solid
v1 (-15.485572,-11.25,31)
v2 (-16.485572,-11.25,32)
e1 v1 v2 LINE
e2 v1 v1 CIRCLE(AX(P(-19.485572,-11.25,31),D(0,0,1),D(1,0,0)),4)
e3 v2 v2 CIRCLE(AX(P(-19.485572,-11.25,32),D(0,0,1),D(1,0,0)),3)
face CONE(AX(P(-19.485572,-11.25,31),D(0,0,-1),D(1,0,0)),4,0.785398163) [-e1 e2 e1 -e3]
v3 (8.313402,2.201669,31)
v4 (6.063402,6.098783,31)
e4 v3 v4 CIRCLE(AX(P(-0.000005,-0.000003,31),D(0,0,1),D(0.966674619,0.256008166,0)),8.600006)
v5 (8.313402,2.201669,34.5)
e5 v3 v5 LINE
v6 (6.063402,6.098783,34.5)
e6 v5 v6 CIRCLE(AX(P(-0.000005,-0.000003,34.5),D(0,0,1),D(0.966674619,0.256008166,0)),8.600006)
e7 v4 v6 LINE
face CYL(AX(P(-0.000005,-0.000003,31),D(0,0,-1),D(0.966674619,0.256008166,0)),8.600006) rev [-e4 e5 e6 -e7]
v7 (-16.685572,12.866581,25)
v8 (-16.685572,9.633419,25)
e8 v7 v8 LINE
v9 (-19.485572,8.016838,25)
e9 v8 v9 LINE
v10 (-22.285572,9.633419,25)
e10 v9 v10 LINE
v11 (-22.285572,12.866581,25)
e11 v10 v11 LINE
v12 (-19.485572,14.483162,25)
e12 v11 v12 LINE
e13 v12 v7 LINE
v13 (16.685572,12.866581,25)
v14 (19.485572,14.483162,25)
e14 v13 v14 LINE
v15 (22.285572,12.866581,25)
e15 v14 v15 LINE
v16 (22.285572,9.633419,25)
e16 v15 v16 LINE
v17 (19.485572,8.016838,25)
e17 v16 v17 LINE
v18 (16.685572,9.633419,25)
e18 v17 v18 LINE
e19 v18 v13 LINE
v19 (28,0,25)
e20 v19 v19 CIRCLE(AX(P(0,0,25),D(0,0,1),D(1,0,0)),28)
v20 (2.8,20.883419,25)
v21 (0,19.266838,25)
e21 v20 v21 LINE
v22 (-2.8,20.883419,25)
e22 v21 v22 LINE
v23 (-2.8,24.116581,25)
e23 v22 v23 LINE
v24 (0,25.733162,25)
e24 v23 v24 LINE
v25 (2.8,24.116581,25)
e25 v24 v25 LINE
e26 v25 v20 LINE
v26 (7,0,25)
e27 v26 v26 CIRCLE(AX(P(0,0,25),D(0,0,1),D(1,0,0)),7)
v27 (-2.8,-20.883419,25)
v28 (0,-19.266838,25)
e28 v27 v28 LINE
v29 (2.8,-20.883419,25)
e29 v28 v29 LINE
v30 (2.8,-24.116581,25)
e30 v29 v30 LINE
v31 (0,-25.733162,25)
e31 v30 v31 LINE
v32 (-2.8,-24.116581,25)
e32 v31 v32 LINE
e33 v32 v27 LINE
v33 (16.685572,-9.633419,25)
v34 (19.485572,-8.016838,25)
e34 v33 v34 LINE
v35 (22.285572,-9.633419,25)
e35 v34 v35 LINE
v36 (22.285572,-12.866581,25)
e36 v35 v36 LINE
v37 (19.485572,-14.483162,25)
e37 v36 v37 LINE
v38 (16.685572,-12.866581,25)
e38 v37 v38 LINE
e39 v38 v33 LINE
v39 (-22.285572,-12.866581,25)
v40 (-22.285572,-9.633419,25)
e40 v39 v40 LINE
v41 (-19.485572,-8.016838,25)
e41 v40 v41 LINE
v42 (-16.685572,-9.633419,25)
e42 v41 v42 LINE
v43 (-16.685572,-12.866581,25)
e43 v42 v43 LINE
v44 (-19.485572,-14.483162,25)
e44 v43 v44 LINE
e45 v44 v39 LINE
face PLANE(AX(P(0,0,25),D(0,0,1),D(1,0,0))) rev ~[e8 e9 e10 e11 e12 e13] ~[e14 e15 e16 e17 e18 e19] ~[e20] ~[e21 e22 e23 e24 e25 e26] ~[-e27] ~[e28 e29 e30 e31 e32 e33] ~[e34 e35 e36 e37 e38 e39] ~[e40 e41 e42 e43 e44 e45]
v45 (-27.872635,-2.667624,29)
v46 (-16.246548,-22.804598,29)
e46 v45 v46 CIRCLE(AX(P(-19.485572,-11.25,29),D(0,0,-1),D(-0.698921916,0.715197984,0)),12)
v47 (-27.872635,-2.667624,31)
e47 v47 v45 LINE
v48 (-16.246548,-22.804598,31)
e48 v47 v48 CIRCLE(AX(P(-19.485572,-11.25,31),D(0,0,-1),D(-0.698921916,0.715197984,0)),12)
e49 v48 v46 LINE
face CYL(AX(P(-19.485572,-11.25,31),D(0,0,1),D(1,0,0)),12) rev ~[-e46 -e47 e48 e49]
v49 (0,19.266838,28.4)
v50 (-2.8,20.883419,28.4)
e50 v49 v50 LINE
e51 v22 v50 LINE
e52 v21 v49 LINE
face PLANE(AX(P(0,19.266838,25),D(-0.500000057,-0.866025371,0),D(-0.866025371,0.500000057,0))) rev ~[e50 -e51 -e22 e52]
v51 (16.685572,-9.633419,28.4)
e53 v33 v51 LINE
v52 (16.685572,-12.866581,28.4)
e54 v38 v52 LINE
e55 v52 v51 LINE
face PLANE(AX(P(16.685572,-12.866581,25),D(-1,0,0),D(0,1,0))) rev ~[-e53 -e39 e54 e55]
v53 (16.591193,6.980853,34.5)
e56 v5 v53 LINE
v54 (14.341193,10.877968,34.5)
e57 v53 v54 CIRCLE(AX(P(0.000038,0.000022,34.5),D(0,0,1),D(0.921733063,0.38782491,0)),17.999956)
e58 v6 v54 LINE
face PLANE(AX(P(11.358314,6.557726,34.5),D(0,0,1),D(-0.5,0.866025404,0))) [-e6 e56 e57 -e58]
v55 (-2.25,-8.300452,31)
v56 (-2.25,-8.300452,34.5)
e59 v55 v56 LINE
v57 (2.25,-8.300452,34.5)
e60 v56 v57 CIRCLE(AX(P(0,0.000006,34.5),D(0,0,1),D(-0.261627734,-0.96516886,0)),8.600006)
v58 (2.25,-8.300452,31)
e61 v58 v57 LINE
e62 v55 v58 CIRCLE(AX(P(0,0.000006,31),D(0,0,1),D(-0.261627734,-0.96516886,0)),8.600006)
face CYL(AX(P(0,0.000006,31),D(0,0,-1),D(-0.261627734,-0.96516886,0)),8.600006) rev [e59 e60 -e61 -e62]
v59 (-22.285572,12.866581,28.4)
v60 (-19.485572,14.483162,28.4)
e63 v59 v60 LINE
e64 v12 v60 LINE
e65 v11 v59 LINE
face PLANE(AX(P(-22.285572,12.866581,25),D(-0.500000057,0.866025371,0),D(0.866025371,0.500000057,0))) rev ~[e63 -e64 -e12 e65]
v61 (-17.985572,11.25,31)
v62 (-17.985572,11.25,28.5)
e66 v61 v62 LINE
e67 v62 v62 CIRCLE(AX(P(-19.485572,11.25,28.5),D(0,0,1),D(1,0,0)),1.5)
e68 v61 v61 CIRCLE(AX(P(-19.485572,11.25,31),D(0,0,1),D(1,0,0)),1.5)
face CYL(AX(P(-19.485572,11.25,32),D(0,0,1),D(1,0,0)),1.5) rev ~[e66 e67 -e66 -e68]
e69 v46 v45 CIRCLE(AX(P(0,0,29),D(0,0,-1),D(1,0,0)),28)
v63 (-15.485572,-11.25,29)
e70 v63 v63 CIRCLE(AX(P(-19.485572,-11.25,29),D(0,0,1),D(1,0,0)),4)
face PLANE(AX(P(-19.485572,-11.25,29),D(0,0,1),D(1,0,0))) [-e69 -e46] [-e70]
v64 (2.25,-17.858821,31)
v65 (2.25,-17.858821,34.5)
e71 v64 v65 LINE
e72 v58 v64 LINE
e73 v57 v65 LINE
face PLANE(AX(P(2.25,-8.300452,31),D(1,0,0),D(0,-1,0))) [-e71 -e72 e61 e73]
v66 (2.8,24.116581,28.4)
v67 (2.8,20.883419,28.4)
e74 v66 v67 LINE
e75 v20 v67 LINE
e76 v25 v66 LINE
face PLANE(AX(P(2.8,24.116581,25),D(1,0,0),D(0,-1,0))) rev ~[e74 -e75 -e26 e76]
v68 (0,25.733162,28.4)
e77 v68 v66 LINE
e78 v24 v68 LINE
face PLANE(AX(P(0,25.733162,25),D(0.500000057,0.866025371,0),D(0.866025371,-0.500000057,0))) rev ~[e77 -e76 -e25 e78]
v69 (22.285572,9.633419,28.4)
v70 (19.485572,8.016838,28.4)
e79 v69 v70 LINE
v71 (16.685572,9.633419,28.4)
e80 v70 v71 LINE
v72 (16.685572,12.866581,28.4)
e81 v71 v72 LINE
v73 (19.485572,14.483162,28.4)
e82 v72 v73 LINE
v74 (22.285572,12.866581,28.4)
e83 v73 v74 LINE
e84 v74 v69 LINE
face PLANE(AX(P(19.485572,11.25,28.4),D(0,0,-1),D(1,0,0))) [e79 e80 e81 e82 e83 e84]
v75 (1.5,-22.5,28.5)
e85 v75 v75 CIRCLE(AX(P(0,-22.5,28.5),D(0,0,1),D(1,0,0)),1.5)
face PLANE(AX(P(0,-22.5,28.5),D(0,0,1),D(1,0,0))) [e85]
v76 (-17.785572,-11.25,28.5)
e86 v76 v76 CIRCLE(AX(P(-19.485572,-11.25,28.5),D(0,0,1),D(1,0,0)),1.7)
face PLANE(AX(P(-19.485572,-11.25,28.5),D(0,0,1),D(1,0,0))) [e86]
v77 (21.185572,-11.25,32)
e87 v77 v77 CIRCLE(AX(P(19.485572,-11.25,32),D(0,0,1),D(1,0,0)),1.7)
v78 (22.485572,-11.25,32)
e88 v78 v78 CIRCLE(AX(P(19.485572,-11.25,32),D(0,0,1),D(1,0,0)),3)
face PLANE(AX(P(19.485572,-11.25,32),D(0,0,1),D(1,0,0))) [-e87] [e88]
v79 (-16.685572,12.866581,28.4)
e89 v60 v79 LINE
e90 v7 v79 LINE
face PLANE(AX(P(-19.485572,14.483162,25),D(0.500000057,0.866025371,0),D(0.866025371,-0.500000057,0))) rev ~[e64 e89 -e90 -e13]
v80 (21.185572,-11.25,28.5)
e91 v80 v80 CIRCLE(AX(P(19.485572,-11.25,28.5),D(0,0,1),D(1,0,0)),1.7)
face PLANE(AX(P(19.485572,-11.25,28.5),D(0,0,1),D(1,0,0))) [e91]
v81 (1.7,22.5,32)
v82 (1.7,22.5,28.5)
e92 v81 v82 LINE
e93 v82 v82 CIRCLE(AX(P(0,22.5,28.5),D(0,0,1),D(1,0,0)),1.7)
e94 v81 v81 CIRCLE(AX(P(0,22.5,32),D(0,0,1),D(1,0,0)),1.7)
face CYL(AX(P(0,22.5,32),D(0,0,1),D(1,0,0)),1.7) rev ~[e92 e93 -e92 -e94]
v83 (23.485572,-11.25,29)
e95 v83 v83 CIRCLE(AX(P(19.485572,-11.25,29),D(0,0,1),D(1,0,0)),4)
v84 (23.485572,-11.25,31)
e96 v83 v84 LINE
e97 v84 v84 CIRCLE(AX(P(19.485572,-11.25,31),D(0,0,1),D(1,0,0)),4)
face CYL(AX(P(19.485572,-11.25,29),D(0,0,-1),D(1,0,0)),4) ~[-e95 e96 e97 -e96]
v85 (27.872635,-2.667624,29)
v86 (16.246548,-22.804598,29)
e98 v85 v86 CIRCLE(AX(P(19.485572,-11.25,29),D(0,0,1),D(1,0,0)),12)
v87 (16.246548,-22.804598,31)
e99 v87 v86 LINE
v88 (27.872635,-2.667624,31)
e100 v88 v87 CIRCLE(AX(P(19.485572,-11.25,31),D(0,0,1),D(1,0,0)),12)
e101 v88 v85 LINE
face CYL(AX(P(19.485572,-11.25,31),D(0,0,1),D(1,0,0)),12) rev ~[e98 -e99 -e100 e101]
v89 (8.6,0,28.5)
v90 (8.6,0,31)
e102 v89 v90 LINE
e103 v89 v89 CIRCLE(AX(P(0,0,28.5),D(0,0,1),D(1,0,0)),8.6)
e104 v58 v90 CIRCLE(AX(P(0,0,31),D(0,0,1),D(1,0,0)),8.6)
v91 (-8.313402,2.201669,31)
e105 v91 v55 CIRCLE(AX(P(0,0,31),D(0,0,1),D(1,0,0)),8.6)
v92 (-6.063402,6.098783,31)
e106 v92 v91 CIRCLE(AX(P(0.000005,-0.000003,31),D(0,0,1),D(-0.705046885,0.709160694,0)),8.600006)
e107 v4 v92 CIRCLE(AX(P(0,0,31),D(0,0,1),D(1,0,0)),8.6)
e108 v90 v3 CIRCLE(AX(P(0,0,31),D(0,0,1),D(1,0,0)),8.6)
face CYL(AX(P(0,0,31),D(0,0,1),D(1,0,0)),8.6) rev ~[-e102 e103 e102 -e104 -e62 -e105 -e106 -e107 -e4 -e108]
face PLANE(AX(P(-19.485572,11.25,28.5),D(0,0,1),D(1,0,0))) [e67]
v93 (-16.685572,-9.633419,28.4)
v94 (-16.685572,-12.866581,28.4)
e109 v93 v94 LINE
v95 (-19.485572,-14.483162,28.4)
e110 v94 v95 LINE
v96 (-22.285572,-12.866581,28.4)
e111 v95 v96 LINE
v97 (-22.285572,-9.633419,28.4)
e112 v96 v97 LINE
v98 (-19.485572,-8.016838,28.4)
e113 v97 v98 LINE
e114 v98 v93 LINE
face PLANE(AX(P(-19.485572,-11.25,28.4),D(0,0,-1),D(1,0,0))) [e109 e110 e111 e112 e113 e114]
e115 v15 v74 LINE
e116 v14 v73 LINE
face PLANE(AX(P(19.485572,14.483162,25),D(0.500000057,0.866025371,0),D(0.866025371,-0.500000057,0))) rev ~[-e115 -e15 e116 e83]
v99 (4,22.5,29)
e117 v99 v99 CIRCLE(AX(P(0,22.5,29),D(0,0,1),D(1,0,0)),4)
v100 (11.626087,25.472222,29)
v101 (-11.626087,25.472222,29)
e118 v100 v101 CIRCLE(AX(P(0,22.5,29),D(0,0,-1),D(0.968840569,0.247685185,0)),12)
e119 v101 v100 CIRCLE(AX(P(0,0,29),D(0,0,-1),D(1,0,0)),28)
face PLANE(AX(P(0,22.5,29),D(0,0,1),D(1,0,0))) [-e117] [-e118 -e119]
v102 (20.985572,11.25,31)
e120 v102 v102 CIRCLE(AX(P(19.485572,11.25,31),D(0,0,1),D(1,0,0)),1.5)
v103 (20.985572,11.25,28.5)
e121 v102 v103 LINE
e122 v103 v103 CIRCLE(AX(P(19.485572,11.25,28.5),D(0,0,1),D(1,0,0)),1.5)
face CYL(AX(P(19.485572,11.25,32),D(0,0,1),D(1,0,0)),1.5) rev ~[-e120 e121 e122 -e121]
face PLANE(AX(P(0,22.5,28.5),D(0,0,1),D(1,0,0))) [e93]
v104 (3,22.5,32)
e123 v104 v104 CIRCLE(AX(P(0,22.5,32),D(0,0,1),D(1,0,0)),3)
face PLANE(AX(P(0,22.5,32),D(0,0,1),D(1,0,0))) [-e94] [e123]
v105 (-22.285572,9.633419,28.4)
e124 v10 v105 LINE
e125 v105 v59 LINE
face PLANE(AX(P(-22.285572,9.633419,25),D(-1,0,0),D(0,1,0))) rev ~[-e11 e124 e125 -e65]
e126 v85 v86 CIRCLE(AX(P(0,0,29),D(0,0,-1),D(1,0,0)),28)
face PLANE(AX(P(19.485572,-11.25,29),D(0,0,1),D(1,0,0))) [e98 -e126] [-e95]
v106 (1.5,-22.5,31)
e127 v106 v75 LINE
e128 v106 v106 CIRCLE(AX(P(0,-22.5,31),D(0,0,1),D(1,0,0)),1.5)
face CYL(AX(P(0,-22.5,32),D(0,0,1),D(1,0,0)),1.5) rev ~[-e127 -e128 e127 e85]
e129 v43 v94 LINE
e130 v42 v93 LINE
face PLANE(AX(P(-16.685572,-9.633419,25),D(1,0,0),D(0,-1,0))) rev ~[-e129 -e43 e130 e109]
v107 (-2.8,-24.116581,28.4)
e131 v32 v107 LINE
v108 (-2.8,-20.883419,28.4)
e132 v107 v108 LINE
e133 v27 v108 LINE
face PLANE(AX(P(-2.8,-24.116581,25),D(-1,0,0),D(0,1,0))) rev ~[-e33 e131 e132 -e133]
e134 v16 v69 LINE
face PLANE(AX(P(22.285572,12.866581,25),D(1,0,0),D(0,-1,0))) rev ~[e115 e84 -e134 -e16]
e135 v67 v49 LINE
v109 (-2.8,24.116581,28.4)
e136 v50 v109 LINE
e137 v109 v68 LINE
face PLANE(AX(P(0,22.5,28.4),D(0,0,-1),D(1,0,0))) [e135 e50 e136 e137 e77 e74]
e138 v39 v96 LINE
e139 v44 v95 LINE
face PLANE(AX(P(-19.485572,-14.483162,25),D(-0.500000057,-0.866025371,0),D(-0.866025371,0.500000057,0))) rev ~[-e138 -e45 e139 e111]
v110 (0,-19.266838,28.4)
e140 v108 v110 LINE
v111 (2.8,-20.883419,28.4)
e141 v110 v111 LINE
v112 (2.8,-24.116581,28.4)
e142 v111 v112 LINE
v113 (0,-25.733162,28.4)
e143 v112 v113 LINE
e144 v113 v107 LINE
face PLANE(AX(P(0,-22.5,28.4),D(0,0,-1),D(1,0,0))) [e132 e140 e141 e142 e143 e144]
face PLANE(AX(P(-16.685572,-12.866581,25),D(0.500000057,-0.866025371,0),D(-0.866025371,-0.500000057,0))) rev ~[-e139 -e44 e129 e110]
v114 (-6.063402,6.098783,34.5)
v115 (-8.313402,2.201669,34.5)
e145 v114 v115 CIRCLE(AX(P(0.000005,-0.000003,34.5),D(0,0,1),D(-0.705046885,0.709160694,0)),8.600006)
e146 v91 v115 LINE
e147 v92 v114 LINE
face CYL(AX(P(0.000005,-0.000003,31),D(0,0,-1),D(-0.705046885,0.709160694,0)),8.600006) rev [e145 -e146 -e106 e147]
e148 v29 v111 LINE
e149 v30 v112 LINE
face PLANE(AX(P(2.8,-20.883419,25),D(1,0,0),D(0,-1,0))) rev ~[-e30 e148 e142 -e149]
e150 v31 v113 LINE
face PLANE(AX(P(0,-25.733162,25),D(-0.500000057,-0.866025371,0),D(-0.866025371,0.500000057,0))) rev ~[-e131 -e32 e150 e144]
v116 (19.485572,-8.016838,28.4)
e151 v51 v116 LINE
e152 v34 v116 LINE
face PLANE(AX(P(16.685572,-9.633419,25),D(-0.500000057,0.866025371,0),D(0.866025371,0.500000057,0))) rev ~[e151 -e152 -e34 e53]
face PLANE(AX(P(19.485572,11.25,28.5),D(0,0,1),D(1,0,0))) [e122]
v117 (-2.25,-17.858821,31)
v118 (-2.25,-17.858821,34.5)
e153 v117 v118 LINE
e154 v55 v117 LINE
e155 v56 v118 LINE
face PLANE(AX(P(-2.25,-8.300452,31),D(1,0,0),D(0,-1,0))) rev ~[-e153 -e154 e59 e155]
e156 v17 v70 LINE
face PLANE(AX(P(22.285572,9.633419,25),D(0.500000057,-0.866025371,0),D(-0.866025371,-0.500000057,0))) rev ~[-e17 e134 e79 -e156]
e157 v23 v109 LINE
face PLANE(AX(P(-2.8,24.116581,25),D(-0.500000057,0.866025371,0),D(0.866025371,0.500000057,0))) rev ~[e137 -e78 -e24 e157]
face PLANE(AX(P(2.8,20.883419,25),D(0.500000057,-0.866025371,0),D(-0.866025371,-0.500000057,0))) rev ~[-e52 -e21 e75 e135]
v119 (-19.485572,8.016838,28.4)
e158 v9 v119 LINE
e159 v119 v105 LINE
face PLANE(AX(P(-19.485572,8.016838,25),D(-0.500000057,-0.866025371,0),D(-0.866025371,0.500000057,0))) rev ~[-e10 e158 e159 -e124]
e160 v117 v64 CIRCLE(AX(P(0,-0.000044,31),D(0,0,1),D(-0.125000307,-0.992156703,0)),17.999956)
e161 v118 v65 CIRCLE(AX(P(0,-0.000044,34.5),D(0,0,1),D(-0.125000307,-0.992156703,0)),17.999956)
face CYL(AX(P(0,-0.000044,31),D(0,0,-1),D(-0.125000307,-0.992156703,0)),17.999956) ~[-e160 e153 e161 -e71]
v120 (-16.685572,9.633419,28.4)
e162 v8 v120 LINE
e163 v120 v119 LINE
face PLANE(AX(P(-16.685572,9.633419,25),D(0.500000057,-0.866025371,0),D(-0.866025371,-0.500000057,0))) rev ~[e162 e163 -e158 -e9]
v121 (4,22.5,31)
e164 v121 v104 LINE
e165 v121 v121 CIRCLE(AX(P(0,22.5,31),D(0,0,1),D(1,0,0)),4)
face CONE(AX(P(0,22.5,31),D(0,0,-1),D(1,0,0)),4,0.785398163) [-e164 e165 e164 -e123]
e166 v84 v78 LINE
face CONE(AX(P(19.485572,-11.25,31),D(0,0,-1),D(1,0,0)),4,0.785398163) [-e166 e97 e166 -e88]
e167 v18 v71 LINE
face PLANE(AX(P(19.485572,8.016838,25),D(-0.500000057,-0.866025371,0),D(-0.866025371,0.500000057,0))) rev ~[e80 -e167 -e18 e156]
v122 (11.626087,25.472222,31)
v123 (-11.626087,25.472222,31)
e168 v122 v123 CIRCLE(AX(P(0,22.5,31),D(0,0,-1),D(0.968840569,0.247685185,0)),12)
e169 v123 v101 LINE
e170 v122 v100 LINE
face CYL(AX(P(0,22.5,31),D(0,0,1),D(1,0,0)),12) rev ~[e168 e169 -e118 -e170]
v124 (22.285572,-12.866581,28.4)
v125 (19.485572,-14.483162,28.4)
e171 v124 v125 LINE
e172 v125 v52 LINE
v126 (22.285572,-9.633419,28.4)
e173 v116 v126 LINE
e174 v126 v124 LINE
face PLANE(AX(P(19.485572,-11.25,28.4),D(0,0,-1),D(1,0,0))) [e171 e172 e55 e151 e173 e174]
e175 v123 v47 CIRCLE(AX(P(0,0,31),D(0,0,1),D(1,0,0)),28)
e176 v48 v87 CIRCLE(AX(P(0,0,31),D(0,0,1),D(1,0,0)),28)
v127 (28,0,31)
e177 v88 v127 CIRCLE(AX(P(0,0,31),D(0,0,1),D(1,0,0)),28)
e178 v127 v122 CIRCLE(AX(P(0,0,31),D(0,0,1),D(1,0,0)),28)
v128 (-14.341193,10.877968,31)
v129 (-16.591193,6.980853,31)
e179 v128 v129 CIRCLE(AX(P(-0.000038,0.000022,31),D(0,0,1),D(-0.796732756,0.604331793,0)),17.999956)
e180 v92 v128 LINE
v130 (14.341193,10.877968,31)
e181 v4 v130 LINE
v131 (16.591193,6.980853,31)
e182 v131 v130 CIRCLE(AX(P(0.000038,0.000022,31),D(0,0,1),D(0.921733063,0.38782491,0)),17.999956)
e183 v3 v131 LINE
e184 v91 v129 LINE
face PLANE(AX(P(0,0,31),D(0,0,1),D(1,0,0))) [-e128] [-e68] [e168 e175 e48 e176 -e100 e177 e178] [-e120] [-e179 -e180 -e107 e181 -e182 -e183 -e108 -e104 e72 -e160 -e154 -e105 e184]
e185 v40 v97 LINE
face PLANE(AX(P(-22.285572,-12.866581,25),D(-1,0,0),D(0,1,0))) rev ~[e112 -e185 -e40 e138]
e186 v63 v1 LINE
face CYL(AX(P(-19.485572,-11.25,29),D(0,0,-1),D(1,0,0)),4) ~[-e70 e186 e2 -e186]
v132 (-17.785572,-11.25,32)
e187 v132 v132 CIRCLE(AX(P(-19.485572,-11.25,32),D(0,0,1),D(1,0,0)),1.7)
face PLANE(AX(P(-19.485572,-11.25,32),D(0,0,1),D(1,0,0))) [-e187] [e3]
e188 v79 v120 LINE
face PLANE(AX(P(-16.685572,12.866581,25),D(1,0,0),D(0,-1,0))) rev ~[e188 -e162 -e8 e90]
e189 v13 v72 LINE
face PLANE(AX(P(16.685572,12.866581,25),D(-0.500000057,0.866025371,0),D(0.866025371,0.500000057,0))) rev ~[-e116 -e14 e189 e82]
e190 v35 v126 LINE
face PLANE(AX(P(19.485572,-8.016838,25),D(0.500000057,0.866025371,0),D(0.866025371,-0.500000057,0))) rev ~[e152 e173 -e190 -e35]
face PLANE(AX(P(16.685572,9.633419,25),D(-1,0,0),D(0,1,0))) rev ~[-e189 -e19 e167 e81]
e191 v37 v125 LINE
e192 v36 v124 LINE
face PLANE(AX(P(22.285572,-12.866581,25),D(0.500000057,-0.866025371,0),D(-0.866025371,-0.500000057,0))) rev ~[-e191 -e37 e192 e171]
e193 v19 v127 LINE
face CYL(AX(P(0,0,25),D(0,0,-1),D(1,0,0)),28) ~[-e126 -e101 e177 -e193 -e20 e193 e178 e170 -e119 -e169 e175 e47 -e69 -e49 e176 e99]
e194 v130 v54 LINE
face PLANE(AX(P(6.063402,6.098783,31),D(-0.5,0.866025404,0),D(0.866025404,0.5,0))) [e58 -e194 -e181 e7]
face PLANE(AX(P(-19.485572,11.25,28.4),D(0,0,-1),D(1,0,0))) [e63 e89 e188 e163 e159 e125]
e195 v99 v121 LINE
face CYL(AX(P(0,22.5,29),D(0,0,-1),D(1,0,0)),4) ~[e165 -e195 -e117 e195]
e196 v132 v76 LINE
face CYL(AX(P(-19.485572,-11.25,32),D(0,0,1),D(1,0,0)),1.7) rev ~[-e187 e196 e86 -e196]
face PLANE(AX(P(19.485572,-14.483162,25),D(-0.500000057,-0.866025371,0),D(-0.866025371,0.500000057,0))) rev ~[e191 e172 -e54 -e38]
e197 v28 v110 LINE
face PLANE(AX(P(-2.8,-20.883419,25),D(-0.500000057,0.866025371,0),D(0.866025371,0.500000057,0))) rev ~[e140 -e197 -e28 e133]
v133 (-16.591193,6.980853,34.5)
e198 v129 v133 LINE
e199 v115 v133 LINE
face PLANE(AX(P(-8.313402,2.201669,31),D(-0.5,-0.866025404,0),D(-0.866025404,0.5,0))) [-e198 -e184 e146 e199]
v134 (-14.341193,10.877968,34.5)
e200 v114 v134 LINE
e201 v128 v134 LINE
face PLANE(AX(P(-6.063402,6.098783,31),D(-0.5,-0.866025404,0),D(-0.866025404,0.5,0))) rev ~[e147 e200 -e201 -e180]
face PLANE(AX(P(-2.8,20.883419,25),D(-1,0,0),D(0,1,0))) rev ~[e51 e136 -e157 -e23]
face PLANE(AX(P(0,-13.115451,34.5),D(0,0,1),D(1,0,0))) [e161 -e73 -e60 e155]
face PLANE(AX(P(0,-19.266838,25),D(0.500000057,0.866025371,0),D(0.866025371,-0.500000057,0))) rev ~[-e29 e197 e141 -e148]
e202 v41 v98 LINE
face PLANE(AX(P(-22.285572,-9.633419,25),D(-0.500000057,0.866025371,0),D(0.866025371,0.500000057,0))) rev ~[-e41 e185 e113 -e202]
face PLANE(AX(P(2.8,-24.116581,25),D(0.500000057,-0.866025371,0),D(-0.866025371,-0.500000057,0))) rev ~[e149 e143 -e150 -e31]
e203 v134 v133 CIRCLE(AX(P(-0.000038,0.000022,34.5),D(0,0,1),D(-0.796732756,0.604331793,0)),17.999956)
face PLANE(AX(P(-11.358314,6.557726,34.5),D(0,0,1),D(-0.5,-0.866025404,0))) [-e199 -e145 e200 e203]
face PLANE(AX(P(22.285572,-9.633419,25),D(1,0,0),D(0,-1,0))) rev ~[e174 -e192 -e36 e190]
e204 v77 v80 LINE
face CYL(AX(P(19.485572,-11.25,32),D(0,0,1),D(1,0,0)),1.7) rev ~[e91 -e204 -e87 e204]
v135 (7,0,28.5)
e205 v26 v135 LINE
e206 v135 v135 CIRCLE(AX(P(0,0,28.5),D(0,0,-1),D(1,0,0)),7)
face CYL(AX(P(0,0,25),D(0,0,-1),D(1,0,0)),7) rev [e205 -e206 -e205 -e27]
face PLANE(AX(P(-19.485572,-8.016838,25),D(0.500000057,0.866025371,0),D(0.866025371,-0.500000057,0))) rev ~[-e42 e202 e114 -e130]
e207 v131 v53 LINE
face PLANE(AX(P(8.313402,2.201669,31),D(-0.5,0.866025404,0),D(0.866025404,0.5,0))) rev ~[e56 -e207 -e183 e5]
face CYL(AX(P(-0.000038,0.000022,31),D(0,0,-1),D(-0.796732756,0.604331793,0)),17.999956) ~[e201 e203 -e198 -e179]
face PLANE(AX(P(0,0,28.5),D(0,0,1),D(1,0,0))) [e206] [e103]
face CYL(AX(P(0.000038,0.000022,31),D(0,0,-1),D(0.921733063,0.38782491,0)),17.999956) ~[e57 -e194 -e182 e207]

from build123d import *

# Parameters (mm, degrees)
SKETCH_R           = 28
SKETCH_R_2         = 7
PAD_DEPTH          = 6
SKETCH007_R        = 12
SKETCH007_R_2      = 8.6
POCKET002_DEPTH    = 2
SKETCH001_R        = 4
PAD001_DEPTH       = 3
PAD002_DEPTH       = 3.5
POLARPATTERN_COUNT = 3
SKETCH003_R        = 1.7
SKETCH003_R_2      = 1.5
POCKET001_DEPTH    = 3.5
POCKET_DEPTH       = 3.4
CHAMFER_SIZE       = 1
CHAMFER001_SIZE    = 1
CHAMFER002_SIZE    = 1
SKETCH008_R        = 8.6
POCKET003_DEPTH    = 2.5


with BuildPart() as part:
    # Sketch → Pad (new body)
    with BuildSketch(Plane.XY.offset(25)):
        Circle(SKETCH_R)
        Circle(SKETCH_R_2, mode=Mode.SUBTRACT)
    extrude(amount=PAD_DEPTH)

    # Sketch007 → Pocket002 (cut)
    with BuildSketch(Plane.XY.offset(31)):
        with Locations((0, 22.5)):
            Circle(SKETCH007_R)
        with Locations((-19.485572, -11.25)):
            Circle(SKETCH007_R)
        with Locations((19.485572, -11.25)):
            Circle(SKETCH007_R)
        Circle(SKETCH007_R_2)
    extrude(amount=-POCKET002_DEPTH, mode=Mode.SUBTRACT)

    # Sketch001 → Pad001 (new body)
    with BuildSketch(Plane.XY.offset(29)):
        with Locations((0, 22.5)):
            Circle(SKETCH001_R)
        with Locations((-19.485572, -11.25)):
            Circle(SKETCH001_R)
        with Locations((19.485572, -11.25)):
            Circle(SKETCH001_R)
    extrude(amount=PAD001_DEPTH)

    # Sketch005 → Pad002 (new body)
    with BuildSketch(Plane.XY.offset(31)):
        with BuildLine():
            Line((-2.25, -8.300452), (-2.25, -17.858821))
            ThreePointArc((-2.25, -17.858821), (0, -18), (2.25, -17.858821))
            Line((2.25, -8.300452), (2.25, -17.858821))
            ThreePointArc((-2.25, -8.300452), (0, -8.6), (2.25, -8.300452))
        make_face()
    pad002 = extrude(amount=PAD002_DEPTH)

    # PolarPattern: Pad002 ×3 about axis
    polarpattern_axis = Axis((0, 0, 31), (0, 0, 1))
    for i in range(1, POLARPATTERN_COUNT):
        add(pad002.rotate(polarpattern_axis, i * 360 / POLARPATTERN_COUNT))

    # Sketch003 → Pocket001 (cut)
    with BuildSketch(Plane.XY.offset(32)):
        with Locations((0, 22.5)):
            Circle(SKETCH003_R)
        with Locations((-19.485572, -11.25)):
            Circle(SKETCH003_R)
        with Locations((19.485572, -11.25)):
            Circle(SKETCH003_R)
        with Locations((-19.485572, 11.25)):
            Circle(SKETCH003_R_2)
        with Locations((19.485572, 11.25)):
            Circle(SKETCH003_R_2)
        with Locations((0, -22.5)):
            Circle(SKETCH003_R_2)
    extrude(amount=-POCKET001_DEPTH, mode=Mode.SUBTRACT)

    # Sketch004 → Pocket (cut)
    with BuildSketch(Plane(origin=(0, 0, 25), x_dir=(1, 0, 0), z_dir=(0, 0, -1))):
        Polygon((-16.685572, 9.633419), (-16.685572, 12.866581), (-19.485572, 14.483162), (-22.285572, 12.866581), (-22.285572, 9.633419), (-19.485572, 8.016838), align=None)
        Polygon((-2.8, 24.116581), (-2.8, 20.883419), (0, 19.266838), (2.8, 20.883419), (2.8, 24.116581), (0, 25.733162), align=None)
        Polygon((19.485572, 14.483162), (16.685572, 12.866581), (16.685572, 9.633419), (19.485572, 8.016838), (22.285572, 9.633419), (22.285572, 12.866581), align=None)
        Polygon((19.485572, -8.016838), (16.685572, -9.633419), (16.685572, -12.866581), (19.485572, -14.483162), (22.285572, -12.866581), (22.285572, -9.633419), align=None)
        Polygon((-22.285572, -9.633419), (-22.285572, -12.866581), (-19.485572, -14.483162), (-16.685572, -12.866581), (-16.685572, -9.633419), (-19.485572, -8.016838), align=None)
        Polygon((-2.8, -20.883419), (-2.8, -24.116581), (0, -25.733162), (2.8, -24.116581), (2.8, -20.883419), (0, -19.266838), align=None)
    extrude(amount=-POCKET_DEPTH, mode=Mode.SUBTRACT)

    # Chamfer
    chamfer_edges = [part.edges().sort_by_distance(p)[0] for p in [
        (15.485572, -11.25, 32),
    ]]
    chamfer(chamfer_edges, length=CHAMFER_SIZE)

    # Chamfer001
    chamfer001_edges = [part.edges().sort_by_distance(p)[0] for p in [
        (-23.485572, -11.25, 32),
    ]]
    chamfer(chamfer001_edges, length=CHAMFER001_SIZE)

    # Chamfer002
    chamfer002_edges = [part.edges().sort_by_distance(p)[0] for p in [
        (-4, 22.5, 32),
    ]]
    chamfer(chamfer002_edges, length=CHAMFER002_SIZE)

    # Sketch008 → Pocket003 (cut)
    with BuildSketch(Plane.XY.offset(31)):
        Circle(SKETCH008_R)
    extrude(amount=-POCKET003_DEPTH, mode=Mode.SUBTRACT)


solid = part.part
